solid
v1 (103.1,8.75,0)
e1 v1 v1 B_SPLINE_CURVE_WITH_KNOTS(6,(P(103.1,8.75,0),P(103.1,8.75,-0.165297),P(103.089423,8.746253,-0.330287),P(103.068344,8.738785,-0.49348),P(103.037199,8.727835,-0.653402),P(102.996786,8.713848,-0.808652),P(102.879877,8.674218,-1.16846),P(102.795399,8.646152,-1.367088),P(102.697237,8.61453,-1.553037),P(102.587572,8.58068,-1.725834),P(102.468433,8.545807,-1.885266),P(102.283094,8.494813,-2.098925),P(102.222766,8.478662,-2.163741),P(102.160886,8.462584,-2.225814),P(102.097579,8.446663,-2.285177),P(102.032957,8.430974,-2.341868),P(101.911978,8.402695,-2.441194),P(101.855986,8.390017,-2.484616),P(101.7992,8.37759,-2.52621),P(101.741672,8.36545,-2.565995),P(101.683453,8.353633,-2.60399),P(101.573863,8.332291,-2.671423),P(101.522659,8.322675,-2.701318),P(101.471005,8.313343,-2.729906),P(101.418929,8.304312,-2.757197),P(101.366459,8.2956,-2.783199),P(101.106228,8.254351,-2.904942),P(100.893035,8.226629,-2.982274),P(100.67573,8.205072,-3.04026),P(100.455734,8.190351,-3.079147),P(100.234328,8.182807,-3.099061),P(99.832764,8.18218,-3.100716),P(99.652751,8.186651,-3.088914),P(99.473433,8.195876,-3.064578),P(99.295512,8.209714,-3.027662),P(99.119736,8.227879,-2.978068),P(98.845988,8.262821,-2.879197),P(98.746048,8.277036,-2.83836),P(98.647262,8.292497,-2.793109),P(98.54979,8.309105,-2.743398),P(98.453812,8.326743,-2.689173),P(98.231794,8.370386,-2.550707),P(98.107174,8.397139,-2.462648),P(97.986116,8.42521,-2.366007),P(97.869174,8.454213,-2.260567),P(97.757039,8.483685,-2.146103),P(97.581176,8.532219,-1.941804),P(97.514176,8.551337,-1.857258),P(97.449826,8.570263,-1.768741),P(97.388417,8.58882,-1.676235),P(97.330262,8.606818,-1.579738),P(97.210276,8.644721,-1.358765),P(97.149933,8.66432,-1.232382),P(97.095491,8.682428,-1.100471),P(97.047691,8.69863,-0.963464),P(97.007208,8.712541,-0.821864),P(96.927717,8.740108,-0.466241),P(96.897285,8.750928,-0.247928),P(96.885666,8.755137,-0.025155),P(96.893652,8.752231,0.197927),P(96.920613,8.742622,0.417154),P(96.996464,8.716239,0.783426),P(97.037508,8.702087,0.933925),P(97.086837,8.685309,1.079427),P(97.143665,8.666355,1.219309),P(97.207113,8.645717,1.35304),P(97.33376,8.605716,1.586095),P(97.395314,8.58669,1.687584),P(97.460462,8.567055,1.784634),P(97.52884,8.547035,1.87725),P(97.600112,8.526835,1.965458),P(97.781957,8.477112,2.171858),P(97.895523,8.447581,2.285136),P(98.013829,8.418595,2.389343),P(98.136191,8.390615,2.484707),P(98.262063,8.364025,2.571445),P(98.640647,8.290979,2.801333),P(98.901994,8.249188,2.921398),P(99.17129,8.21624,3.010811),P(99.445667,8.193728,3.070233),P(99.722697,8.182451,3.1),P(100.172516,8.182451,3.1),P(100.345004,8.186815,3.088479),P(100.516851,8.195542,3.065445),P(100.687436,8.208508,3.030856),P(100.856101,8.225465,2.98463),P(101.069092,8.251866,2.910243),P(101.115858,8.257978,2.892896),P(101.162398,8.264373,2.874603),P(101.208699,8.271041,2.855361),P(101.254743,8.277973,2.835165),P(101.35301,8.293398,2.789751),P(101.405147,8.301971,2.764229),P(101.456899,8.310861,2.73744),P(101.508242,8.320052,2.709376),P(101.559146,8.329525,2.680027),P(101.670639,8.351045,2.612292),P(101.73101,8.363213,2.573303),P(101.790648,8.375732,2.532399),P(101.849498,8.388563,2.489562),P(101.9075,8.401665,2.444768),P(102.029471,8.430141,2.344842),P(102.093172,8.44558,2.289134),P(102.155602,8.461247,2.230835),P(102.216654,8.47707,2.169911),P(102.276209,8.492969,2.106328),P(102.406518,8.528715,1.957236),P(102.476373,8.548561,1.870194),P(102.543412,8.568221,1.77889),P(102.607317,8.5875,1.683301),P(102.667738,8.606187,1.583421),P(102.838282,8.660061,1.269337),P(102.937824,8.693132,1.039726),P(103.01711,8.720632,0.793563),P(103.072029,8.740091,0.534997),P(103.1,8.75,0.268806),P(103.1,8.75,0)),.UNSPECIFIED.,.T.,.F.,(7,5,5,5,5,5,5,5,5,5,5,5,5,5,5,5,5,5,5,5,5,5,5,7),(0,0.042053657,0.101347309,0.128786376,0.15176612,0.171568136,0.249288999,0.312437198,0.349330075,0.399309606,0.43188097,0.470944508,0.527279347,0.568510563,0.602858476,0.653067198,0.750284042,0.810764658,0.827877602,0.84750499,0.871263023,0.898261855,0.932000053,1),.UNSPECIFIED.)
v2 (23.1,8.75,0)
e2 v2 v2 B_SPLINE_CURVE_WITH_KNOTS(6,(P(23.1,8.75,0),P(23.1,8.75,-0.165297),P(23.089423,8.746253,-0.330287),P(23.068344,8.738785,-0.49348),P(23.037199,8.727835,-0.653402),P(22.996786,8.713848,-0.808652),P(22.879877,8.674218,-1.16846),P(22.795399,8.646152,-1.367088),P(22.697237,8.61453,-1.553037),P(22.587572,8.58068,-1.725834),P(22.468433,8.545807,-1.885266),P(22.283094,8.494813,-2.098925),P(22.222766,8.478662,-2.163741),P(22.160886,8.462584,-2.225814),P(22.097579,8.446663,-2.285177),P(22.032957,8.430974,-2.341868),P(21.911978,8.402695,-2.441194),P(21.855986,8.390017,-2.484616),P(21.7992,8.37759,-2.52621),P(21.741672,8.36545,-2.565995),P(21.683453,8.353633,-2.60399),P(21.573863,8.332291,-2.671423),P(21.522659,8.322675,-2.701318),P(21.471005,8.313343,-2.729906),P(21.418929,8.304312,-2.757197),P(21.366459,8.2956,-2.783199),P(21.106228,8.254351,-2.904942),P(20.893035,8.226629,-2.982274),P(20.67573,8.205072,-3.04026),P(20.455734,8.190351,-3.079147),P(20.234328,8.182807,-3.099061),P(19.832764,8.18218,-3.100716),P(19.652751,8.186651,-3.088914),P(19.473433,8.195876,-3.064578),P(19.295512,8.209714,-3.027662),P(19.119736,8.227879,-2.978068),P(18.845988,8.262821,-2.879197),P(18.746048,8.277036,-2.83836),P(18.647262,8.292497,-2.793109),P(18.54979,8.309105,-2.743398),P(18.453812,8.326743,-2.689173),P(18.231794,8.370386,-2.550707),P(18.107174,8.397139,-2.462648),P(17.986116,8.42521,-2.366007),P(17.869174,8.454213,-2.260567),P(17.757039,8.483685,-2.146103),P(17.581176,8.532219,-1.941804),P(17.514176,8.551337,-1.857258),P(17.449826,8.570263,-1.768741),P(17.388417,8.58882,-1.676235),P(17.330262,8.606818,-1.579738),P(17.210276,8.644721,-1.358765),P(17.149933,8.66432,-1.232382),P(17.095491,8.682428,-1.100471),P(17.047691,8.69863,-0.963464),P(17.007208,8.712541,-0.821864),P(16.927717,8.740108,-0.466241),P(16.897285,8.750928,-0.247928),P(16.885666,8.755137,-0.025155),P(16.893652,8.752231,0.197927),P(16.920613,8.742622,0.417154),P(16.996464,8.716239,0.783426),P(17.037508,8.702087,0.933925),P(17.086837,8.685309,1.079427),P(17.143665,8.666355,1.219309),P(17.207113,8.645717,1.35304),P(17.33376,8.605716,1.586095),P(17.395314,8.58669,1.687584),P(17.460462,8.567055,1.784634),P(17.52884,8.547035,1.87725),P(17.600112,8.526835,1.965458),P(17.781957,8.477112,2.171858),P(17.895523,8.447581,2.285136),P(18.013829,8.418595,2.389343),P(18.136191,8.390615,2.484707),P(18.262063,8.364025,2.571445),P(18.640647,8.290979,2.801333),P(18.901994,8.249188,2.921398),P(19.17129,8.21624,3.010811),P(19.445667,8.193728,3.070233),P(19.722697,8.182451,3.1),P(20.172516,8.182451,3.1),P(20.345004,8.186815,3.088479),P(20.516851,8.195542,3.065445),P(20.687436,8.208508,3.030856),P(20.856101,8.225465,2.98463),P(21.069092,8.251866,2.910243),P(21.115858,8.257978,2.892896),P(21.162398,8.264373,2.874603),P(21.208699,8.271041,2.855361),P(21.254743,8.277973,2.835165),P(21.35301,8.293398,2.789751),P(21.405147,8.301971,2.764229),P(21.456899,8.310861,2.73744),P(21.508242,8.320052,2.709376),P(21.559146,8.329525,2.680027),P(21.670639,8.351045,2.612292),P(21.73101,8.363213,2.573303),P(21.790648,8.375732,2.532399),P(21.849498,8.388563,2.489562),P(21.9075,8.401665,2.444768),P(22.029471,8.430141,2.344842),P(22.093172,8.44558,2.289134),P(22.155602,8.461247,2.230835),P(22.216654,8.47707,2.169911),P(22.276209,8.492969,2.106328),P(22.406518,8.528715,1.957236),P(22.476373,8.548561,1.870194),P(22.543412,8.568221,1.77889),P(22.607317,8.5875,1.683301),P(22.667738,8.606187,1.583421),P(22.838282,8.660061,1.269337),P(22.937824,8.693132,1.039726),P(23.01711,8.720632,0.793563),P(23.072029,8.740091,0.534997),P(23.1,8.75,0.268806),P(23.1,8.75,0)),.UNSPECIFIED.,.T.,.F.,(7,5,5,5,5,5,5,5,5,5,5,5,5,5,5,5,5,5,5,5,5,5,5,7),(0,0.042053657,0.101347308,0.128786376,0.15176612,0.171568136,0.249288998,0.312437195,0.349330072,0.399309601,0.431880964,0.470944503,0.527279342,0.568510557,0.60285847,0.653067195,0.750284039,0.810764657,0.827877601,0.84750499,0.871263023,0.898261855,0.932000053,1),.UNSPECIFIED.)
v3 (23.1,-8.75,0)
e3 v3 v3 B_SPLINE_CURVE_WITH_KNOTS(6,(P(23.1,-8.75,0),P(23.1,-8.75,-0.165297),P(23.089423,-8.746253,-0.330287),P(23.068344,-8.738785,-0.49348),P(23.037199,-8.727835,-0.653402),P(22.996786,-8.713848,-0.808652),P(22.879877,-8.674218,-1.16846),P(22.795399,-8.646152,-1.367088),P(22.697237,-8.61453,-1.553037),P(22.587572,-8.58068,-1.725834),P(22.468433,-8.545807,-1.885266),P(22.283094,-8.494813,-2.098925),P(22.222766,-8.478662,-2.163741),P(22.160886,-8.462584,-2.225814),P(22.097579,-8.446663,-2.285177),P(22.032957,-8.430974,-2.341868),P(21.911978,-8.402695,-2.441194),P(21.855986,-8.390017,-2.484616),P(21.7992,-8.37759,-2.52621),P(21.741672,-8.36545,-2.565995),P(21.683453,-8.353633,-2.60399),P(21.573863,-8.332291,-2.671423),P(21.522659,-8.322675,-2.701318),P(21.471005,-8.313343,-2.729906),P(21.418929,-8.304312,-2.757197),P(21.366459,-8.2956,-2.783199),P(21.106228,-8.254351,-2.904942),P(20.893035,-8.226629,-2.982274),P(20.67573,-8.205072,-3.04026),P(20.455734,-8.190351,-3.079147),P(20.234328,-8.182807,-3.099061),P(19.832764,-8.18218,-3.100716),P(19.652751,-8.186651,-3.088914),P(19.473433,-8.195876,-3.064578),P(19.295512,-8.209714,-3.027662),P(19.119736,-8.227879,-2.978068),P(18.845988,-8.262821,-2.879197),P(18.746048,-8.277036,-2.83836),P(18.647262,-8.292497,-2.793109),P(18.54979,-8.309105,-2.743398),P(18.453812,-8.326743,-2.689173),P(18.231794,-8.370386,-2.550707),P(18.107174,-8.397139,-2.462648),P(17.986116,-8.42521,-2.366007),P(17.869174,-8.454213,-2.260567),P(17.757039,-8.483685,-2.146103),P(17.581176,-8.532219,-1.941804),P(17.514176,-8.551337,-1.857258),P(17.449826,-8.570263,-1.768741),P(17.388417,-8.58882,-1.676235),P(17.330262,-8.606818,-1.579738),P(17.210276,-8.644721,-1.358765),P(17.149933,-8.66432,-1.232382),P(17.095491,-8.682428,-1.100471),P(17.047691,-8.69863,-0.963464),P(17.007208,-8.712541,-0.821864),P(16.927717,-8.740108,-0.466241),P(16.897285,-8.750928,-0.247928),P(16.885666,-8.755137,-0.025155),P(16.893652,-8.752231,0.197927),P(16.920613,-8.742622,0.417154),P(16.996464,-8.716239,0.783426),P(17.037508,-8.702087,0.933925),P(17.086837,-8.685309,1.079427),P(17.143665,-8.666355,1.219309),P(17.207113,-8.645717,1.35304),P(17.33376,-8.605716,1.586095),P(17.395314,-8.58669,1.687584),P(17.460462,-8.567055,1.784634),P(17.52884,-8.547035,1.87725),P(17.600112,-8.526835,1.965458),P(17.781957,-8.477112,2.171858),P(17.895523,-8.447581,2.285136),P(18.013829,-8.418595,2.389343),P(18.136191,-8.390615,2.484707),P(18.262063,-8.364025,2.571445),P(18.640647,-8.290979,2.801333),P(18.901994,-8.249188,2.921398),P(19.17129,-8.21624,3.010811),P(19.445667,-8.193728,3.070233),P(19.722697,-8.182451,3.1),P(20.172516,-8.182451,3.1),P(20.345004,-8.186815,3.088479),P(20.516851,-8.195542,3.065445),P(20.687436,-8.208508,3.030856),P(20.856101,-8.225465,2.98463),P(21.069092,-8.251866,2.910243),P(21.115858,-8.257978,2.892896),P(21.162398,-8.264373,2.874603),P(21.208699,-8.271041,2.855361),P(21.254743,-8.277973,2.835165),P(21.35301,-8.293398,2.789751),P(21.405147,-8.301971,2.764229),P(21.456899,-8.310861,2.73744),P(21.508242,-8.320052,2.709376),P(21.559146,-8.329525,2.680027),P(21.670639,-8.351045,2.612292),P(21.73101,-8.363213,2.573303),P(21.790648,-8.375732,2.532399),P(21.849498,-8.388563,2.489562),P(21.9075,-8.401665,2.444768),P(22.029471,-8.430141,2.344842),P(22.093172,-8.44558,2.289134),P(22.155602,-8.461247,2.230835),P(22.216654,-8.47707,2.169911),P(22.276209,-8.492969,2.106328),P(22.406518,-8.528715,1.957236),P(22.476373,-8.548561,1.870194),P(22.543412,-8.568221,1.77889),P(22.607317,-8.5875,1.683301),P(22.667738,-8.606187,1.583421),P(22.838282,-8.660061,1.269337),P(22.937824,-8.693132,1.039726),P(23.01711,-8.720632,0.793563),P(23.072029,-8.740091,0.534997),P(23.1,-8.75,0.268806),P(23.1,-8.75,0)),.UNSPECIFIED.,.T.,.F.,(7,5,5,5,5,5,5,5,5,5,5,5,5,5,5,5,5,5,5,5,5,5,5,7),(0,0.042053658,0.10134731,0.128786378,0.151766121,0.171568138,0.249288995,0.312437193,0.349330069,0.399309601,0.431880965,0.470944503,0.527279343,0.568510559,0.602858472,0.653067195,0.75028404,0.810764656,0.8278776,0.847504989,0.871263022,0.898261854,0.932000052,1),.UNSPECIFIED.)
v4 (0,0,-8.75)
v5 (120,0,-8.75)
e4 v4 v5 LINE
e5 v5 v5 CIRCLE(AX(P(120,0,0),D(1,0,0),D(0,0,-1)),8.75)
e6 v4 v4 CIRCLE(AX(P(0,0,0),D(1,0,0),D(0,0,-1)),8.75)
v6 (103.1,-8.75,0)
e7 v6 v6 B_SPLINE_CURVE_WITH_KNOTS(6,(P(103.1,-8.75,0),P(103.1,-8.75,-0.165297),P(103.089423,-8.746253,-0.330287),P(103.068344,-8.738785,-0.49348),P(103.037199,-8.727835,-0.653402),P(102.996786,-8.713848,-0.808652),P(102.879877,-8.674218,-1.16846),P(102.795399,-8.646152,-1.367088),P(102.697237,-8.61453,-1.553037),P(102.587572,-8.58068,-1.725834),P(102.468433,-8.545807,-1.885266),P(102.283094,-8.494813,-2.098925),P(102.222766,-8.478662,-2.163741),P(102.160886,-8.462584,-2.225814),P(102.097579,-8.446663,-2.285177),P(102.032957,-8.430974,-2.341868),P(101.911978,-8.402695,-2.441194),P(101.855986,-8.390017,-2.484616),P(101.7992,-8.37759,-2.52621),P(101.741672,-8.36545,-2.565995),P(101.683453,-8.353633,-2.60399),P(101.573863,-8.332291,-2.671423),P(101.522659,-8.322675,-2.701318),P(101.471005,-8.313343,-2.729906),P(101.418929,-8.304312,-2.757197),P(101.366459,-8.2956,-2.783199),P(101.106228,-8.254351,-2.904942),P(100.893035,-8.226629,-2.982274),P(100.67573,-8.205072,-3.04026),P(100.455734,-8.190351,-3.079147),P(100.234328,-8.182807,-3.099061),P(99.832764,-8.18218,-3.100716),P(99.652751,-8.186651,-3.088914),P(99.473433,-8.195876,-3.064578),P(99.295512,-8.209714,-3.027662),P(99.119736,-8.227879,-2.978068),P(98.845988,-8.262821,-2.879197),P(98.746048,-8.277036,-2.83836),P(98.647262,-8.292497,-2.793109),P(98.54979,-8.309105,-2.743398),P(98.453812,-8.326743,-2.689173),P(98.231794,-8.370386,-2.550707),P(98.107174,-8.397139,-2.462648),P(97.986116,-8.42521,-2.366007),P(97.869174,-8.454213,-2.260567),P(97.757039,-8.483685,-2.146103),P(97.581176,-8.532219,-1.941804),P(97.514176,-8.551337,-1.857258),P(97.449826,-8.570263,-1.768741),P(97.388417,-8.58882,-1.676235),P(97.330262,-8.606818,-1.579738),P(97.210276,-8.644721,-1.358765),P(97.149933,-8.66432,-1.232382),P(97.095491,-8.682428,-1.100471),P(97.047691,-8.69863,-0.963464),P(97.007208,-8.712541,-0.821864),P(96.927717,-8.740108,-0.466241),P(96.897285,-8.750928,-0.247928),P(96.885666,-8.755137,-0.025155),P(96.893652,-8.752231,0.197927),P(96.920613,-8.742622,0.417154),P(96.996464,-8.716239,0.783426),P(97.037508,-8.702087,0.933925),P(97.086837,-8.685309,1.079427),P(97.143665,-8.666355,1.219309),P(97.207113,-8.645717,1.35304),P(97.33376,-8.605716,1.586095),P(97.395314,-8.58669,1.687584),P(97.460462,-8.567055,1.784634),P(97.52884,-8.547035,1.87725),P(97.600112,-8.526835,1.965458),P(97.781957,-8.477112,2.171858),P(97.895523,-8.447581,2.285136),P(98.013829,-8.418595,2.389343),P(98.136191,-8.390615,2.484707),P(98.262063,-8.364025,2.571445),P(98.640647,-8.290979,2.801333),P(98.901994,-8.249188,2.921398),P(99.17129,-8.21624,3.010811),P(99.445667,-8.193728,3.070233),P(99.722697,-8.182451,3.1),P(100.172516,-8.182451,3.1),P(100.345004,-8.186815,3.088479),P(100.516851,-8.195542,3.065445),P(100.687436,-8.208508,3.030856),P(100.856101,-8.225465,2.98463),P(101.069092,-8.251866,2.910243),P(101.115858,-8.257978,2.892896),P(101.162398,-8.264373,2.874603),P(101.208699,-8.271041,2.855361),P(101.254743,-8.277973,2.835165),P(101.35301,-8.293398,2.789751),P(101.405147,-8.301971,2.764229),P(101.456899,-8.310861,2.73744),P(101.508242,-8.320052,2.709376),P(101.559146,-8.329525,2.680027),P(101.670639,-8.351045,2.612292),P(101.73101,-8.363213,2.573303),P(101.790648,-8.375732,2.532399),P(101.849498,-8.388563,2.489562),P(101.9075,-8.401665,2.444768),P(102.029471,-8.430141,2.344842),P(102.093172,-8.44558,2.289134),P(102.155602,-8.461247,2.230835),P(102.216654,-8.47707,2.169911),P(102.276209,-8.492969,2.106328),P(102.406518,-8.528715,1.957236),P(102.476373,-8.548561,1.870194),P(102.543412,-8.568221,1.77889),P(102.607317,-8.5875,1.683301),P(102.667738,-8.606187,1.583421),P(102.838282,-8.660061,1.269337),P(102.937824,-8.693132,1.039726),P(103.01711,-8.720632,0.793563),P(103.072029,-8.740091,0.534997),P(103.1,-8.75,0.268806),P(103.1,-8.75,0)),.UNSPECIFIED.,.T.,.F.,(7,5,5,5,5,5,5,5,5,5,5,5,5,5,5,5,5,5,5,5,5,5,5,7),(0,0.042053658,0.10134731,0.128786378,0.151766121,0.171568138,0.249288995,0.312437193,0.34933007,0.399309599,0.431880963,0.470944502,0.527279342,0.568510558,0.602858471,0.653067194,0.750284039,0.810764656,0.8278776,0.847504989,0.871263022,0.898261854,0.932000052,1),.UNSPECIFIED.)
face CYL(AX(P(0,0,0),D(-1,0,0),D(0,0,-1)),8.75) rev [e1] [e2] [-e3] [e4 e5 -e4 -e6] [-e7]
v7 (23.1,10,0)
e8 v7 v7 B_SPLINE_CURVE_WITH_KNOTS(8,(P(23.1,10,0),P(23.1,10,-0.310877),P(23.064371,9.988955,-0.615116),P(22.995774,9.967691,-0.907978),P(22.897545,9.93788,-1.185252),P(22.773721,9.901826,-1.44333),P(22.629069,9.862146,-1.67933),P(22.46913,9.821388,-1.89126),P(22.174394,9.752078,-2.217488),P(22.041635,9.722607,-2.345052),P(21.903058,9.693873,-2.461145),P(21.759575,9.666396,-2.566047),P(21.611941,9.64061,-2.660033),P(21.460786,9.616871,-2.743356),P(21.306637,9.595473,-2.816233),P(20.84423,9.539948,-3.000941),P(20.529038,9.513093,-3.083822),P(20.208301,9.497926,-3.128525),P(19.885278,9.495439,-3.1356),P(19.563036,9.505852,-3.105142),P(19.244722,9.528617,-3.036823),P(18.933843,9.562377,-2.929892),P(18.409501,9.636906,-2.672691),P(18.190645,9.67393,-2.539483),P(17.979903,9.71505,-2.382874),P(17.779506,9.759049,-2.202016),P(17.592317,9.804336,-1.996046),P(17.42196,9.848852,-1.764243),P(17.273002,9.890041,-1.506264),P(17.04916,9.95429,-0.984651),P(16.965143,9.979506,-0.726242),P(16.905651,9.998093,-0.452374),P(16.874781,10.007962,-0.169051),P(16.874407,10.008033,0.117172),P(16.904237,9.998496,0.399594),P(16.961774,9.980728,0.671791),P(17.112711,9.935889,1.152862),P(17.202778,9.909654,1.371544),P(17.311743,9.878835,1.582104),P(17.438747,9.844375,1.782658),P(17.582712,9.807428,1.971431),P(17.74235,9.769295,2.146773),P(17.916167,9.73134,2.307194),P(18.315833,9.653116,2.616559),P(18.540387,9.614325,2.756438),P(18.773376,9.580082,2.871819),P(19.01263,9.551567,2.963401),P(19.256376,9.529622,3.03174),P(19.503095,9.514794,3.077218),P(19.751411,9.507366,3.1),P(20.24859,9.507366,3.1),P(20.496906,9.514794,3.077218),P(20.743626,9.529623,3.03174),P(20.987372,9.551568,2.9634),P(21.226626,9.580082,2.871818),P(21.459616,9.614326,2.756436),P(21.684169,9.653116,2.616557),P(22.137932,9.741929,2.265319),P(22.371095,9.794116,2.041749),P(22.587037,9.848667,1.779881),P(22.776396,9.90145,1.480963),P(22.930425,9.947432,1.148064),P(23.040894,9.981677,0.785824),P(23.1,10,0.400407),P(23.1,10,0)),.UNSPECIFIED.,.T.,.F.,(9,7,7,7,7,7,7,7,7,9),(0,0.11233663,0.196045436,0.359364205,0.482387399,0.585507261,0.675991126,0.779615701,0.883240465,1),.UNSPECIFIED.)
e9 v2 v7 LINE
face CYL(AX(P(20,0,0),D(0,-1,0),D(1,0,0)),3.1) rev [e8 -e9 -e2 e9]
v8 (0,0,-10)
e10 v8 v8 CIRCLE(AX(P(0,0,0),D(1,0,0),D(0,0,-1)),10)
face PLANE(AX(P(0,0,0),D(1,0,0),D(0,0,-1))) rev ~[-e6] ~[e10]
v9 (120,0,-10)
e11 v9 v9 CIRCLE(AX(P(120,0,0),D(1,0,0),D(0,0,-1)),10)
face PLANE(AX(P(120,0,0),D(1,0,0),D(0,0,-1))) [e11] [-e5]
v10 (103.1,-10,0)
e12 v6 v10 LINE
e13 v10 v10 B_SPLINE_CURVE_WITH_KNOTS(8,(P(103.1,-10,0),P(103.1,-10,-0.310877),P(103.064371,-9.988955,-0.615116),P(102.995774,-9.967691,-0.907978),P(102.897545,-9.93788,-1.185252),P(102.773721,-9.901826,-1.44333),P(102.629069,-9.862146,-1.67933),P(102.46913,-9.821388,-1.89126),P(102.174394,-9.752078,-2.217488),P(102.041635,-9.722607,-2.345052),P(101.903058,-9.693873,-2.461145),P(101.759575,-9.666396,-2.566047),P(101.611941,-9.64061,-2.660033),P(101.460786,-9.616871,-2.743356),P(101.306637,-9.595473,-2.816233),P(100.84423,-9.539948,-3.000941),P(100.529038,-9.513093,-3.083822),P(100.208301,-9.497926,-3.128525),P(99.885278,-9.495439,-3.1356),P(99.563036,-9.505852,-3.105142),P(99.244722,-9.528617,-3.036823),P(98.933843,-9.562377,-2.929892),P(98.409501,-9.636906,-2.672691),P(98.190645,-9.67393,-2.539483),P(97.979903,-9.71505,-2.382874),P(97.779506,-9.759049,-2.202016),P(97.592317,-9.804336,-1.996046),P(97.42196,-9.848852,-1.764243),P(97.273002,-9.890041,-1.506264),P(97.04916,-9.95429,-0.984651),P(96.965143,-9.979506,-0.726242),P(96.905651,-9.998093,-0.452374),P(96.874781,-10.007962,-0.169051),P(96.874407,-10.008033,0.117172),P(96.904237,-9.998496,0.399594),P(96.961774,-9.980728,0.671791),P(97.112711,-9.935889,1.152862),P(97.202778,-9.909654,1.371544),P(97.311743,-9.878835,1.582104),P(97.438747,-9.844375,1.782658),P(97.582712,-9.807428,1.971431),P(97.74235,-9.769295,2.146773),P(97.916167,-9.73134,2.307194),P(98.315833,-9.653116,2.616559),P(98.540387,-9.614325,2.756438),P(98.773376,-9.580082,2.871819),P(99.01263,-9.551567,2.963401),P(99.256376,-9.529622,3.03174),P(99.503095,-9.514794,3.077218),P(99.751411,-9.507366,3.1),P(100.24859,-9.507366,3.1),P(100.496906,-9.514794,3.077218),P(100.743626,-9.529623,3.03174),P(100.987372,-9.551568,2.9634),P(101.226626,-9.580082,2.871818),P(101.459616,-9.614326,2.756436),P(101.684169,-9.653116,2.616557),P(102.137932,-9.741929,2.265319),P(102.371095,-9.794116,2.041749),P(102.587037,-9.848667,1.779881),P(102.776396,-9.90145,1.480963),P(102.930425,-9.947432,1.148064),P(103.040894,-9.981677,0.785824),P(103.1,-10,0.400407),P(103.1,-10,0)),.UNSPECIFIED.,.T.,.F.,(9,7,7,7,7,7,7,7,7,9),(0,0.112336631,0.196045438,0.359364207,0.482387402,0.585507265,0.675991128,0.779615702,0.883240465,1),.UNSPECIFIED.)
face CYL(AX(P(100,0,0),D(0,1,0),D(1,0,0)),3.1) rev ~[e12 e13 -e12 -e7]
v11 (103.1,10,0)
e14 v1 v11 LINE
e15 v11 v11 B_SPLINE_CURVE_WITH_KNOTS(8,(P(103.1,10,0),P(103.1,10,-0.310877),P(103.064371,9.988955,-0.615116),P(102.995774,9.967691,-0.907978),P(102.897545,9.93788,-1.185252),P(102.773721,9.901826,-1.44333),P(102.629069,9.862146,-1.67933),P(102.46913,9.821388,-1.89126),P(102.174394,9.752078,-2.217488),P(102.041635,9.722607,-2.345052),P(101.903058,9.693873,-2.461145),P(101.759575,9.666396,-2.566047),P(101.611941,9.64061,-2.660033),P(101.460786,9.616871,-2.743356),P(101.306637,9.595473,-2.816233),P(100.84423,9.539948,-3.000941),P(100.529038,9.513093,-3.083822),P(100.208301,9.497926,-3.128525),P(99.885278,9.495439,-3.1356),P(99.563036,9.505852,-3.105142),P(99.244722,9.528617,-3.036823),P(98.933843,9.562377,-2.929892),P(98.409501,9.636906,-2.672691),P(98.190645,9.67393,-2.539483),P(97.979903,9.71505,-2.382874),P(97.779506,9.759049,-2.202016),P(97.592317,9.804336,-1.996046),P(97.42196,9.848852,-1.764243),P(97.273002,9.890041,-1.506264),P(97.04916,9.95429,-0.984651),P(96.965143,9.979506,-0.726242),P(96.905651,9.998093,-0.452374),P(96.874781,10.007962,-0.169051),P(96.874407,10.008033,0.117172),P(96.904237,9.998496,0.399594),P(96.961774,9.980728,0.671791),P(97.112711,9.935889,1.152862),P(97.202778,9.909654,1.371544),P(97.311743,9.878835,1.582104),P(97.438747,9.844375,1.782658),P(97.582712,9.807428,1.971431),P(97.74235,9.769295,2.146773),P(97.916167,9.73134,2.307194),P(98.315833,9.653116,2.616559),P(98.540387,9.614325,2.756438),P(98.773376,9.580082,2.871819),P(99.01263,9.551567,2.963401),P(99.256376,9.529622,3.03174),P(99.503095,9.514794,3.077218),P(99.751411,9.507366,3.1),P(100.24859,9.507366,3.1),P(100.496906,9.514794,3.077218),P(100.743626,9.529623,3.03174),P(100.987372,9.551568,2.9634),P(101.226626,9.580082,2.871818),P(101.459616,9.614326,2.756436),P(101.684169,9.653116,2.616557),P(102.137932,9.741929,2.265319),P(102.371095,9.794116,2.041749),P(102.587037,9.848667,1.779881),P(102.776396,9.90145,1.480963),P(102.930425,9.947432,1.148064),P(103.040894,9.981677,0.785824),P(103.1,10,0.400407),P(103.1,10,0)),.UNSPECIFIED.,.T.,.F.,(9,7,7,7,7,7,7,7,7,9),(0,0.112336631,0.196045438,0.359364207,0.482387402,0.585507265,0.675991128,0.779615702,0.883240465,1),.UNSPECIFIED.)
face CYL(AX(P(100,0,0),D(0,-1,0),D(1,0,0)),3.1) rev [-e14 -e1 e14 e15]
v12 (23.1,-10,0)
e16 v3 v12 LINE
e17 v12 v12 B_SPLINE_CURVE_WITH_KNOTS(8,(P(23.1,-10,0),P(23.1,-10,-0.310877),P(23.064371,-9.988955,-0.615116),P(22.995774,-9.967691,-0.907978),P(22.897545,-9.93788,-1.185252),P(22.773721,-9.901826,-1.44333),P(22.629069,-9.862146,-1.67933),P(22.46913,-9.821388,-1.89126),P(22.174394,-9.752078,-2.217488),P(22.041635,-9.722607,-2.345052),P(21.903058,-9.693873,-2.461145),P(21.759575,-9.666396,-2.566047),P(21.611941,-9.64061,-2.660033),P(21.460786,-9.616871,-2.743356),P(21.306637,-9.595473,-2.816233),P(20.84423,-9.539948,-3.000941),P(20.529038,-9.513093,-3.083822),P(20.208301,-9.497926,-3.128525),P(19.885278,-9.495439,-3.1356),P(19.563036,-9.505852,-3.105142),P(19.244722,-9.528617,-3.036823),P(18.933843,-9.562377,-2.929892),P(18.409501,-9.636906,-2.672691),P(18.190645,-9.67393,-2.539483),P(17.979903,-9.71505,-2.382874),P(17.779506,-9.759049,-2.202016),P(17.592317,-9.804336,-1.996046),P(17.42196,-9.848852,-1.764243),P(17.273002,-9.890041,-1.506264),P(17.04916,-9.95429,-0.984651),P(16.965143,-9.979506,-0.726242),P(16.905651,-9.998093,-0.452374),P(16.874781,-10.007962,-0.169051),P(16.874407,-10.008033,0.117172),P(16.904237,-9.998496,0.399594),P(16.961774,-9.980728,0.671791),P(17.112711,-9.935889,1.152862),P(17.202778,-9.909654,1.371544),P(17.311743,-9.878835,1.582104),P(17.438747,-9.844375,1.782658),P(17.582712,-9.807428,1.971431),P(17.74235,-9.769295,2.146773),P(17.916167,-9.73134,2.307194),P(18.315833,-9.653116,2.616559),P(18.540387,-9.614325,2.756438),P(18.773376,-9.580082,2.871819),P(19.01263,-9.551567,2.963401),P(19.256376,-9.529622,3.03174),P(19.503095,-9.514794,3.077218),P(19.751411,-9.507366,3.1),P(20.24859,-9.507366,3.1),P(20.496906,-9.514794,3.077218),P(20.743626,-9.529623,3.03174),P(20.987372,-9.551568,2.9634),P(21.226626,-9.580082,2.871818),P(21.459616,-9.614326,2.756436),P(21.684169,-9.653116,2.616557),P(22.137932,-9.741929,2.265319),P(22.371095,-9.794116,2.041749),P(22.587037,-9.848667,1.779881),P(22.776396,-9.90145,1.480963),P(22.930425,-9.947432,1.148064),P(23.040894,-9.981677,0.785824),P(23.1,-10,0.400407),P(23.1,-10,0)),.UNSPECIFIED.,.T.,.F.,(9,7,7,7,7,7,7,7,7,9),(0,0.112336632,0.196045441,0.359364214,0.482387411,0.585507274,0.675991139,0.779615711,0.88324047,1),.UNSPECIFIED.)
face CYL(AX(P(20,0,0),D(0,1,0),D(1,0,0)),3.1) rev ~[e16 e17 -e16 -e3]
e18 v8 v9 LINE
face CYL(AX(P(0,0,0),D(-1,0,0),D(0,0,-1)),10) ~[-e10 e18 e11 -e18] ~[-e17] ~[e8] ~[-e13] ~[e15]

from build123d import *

# Parameters (mm, degrees)
SKETCH_1_R               = 10
SKETCH_1_R_2             = 8.75
EXTRUDE_1_DEPTH          = 120
SKETCH_2_R               = 3.1
CUT_EXTRUDE_1_DEPTH      = 11
CUT_EXTRUDE_1_DEPTH_BACK = 11


with BuildPart() as part:
    # 草图1 → 凸台-拉伸1 (new body)
    with BuildSketch(Plane(origin=(0, 0, 0), x_dir=(0, 0, -1), z_dir=(1, 0, 0))):
        Circle(SKETCH_1_R)
        Circle(SKETCH_1_R_2, mode=Mode.SUBTRACT)
    extrude(amount=EXTRUDE_1_DEPTH)

    # 草图2 → 切除-拉伸1 (cut, two sides)
    with BuildSketch(Plane(origin=(0, 0, 0), x_dir=(1, 0, 0), z_dir=(0, 1, 0))) as cut_extrude_1_sk:
        with Locations((20, 0)):
            Circle(SKETCH_2_R)
        with Locations((100, 0)):
            Circle(SKETCH_2_R)
    extrude(amount=CUT_EXTRUDE_1_DEPTH, mode=Mode.SUBTRACT)
    extrude(cut_extrude_1_sk.sketch, amount=-CUT_EXTRUDE_1_DEPTH_BACK, mode=Mode.SUBTRACT)


solid = part.part
